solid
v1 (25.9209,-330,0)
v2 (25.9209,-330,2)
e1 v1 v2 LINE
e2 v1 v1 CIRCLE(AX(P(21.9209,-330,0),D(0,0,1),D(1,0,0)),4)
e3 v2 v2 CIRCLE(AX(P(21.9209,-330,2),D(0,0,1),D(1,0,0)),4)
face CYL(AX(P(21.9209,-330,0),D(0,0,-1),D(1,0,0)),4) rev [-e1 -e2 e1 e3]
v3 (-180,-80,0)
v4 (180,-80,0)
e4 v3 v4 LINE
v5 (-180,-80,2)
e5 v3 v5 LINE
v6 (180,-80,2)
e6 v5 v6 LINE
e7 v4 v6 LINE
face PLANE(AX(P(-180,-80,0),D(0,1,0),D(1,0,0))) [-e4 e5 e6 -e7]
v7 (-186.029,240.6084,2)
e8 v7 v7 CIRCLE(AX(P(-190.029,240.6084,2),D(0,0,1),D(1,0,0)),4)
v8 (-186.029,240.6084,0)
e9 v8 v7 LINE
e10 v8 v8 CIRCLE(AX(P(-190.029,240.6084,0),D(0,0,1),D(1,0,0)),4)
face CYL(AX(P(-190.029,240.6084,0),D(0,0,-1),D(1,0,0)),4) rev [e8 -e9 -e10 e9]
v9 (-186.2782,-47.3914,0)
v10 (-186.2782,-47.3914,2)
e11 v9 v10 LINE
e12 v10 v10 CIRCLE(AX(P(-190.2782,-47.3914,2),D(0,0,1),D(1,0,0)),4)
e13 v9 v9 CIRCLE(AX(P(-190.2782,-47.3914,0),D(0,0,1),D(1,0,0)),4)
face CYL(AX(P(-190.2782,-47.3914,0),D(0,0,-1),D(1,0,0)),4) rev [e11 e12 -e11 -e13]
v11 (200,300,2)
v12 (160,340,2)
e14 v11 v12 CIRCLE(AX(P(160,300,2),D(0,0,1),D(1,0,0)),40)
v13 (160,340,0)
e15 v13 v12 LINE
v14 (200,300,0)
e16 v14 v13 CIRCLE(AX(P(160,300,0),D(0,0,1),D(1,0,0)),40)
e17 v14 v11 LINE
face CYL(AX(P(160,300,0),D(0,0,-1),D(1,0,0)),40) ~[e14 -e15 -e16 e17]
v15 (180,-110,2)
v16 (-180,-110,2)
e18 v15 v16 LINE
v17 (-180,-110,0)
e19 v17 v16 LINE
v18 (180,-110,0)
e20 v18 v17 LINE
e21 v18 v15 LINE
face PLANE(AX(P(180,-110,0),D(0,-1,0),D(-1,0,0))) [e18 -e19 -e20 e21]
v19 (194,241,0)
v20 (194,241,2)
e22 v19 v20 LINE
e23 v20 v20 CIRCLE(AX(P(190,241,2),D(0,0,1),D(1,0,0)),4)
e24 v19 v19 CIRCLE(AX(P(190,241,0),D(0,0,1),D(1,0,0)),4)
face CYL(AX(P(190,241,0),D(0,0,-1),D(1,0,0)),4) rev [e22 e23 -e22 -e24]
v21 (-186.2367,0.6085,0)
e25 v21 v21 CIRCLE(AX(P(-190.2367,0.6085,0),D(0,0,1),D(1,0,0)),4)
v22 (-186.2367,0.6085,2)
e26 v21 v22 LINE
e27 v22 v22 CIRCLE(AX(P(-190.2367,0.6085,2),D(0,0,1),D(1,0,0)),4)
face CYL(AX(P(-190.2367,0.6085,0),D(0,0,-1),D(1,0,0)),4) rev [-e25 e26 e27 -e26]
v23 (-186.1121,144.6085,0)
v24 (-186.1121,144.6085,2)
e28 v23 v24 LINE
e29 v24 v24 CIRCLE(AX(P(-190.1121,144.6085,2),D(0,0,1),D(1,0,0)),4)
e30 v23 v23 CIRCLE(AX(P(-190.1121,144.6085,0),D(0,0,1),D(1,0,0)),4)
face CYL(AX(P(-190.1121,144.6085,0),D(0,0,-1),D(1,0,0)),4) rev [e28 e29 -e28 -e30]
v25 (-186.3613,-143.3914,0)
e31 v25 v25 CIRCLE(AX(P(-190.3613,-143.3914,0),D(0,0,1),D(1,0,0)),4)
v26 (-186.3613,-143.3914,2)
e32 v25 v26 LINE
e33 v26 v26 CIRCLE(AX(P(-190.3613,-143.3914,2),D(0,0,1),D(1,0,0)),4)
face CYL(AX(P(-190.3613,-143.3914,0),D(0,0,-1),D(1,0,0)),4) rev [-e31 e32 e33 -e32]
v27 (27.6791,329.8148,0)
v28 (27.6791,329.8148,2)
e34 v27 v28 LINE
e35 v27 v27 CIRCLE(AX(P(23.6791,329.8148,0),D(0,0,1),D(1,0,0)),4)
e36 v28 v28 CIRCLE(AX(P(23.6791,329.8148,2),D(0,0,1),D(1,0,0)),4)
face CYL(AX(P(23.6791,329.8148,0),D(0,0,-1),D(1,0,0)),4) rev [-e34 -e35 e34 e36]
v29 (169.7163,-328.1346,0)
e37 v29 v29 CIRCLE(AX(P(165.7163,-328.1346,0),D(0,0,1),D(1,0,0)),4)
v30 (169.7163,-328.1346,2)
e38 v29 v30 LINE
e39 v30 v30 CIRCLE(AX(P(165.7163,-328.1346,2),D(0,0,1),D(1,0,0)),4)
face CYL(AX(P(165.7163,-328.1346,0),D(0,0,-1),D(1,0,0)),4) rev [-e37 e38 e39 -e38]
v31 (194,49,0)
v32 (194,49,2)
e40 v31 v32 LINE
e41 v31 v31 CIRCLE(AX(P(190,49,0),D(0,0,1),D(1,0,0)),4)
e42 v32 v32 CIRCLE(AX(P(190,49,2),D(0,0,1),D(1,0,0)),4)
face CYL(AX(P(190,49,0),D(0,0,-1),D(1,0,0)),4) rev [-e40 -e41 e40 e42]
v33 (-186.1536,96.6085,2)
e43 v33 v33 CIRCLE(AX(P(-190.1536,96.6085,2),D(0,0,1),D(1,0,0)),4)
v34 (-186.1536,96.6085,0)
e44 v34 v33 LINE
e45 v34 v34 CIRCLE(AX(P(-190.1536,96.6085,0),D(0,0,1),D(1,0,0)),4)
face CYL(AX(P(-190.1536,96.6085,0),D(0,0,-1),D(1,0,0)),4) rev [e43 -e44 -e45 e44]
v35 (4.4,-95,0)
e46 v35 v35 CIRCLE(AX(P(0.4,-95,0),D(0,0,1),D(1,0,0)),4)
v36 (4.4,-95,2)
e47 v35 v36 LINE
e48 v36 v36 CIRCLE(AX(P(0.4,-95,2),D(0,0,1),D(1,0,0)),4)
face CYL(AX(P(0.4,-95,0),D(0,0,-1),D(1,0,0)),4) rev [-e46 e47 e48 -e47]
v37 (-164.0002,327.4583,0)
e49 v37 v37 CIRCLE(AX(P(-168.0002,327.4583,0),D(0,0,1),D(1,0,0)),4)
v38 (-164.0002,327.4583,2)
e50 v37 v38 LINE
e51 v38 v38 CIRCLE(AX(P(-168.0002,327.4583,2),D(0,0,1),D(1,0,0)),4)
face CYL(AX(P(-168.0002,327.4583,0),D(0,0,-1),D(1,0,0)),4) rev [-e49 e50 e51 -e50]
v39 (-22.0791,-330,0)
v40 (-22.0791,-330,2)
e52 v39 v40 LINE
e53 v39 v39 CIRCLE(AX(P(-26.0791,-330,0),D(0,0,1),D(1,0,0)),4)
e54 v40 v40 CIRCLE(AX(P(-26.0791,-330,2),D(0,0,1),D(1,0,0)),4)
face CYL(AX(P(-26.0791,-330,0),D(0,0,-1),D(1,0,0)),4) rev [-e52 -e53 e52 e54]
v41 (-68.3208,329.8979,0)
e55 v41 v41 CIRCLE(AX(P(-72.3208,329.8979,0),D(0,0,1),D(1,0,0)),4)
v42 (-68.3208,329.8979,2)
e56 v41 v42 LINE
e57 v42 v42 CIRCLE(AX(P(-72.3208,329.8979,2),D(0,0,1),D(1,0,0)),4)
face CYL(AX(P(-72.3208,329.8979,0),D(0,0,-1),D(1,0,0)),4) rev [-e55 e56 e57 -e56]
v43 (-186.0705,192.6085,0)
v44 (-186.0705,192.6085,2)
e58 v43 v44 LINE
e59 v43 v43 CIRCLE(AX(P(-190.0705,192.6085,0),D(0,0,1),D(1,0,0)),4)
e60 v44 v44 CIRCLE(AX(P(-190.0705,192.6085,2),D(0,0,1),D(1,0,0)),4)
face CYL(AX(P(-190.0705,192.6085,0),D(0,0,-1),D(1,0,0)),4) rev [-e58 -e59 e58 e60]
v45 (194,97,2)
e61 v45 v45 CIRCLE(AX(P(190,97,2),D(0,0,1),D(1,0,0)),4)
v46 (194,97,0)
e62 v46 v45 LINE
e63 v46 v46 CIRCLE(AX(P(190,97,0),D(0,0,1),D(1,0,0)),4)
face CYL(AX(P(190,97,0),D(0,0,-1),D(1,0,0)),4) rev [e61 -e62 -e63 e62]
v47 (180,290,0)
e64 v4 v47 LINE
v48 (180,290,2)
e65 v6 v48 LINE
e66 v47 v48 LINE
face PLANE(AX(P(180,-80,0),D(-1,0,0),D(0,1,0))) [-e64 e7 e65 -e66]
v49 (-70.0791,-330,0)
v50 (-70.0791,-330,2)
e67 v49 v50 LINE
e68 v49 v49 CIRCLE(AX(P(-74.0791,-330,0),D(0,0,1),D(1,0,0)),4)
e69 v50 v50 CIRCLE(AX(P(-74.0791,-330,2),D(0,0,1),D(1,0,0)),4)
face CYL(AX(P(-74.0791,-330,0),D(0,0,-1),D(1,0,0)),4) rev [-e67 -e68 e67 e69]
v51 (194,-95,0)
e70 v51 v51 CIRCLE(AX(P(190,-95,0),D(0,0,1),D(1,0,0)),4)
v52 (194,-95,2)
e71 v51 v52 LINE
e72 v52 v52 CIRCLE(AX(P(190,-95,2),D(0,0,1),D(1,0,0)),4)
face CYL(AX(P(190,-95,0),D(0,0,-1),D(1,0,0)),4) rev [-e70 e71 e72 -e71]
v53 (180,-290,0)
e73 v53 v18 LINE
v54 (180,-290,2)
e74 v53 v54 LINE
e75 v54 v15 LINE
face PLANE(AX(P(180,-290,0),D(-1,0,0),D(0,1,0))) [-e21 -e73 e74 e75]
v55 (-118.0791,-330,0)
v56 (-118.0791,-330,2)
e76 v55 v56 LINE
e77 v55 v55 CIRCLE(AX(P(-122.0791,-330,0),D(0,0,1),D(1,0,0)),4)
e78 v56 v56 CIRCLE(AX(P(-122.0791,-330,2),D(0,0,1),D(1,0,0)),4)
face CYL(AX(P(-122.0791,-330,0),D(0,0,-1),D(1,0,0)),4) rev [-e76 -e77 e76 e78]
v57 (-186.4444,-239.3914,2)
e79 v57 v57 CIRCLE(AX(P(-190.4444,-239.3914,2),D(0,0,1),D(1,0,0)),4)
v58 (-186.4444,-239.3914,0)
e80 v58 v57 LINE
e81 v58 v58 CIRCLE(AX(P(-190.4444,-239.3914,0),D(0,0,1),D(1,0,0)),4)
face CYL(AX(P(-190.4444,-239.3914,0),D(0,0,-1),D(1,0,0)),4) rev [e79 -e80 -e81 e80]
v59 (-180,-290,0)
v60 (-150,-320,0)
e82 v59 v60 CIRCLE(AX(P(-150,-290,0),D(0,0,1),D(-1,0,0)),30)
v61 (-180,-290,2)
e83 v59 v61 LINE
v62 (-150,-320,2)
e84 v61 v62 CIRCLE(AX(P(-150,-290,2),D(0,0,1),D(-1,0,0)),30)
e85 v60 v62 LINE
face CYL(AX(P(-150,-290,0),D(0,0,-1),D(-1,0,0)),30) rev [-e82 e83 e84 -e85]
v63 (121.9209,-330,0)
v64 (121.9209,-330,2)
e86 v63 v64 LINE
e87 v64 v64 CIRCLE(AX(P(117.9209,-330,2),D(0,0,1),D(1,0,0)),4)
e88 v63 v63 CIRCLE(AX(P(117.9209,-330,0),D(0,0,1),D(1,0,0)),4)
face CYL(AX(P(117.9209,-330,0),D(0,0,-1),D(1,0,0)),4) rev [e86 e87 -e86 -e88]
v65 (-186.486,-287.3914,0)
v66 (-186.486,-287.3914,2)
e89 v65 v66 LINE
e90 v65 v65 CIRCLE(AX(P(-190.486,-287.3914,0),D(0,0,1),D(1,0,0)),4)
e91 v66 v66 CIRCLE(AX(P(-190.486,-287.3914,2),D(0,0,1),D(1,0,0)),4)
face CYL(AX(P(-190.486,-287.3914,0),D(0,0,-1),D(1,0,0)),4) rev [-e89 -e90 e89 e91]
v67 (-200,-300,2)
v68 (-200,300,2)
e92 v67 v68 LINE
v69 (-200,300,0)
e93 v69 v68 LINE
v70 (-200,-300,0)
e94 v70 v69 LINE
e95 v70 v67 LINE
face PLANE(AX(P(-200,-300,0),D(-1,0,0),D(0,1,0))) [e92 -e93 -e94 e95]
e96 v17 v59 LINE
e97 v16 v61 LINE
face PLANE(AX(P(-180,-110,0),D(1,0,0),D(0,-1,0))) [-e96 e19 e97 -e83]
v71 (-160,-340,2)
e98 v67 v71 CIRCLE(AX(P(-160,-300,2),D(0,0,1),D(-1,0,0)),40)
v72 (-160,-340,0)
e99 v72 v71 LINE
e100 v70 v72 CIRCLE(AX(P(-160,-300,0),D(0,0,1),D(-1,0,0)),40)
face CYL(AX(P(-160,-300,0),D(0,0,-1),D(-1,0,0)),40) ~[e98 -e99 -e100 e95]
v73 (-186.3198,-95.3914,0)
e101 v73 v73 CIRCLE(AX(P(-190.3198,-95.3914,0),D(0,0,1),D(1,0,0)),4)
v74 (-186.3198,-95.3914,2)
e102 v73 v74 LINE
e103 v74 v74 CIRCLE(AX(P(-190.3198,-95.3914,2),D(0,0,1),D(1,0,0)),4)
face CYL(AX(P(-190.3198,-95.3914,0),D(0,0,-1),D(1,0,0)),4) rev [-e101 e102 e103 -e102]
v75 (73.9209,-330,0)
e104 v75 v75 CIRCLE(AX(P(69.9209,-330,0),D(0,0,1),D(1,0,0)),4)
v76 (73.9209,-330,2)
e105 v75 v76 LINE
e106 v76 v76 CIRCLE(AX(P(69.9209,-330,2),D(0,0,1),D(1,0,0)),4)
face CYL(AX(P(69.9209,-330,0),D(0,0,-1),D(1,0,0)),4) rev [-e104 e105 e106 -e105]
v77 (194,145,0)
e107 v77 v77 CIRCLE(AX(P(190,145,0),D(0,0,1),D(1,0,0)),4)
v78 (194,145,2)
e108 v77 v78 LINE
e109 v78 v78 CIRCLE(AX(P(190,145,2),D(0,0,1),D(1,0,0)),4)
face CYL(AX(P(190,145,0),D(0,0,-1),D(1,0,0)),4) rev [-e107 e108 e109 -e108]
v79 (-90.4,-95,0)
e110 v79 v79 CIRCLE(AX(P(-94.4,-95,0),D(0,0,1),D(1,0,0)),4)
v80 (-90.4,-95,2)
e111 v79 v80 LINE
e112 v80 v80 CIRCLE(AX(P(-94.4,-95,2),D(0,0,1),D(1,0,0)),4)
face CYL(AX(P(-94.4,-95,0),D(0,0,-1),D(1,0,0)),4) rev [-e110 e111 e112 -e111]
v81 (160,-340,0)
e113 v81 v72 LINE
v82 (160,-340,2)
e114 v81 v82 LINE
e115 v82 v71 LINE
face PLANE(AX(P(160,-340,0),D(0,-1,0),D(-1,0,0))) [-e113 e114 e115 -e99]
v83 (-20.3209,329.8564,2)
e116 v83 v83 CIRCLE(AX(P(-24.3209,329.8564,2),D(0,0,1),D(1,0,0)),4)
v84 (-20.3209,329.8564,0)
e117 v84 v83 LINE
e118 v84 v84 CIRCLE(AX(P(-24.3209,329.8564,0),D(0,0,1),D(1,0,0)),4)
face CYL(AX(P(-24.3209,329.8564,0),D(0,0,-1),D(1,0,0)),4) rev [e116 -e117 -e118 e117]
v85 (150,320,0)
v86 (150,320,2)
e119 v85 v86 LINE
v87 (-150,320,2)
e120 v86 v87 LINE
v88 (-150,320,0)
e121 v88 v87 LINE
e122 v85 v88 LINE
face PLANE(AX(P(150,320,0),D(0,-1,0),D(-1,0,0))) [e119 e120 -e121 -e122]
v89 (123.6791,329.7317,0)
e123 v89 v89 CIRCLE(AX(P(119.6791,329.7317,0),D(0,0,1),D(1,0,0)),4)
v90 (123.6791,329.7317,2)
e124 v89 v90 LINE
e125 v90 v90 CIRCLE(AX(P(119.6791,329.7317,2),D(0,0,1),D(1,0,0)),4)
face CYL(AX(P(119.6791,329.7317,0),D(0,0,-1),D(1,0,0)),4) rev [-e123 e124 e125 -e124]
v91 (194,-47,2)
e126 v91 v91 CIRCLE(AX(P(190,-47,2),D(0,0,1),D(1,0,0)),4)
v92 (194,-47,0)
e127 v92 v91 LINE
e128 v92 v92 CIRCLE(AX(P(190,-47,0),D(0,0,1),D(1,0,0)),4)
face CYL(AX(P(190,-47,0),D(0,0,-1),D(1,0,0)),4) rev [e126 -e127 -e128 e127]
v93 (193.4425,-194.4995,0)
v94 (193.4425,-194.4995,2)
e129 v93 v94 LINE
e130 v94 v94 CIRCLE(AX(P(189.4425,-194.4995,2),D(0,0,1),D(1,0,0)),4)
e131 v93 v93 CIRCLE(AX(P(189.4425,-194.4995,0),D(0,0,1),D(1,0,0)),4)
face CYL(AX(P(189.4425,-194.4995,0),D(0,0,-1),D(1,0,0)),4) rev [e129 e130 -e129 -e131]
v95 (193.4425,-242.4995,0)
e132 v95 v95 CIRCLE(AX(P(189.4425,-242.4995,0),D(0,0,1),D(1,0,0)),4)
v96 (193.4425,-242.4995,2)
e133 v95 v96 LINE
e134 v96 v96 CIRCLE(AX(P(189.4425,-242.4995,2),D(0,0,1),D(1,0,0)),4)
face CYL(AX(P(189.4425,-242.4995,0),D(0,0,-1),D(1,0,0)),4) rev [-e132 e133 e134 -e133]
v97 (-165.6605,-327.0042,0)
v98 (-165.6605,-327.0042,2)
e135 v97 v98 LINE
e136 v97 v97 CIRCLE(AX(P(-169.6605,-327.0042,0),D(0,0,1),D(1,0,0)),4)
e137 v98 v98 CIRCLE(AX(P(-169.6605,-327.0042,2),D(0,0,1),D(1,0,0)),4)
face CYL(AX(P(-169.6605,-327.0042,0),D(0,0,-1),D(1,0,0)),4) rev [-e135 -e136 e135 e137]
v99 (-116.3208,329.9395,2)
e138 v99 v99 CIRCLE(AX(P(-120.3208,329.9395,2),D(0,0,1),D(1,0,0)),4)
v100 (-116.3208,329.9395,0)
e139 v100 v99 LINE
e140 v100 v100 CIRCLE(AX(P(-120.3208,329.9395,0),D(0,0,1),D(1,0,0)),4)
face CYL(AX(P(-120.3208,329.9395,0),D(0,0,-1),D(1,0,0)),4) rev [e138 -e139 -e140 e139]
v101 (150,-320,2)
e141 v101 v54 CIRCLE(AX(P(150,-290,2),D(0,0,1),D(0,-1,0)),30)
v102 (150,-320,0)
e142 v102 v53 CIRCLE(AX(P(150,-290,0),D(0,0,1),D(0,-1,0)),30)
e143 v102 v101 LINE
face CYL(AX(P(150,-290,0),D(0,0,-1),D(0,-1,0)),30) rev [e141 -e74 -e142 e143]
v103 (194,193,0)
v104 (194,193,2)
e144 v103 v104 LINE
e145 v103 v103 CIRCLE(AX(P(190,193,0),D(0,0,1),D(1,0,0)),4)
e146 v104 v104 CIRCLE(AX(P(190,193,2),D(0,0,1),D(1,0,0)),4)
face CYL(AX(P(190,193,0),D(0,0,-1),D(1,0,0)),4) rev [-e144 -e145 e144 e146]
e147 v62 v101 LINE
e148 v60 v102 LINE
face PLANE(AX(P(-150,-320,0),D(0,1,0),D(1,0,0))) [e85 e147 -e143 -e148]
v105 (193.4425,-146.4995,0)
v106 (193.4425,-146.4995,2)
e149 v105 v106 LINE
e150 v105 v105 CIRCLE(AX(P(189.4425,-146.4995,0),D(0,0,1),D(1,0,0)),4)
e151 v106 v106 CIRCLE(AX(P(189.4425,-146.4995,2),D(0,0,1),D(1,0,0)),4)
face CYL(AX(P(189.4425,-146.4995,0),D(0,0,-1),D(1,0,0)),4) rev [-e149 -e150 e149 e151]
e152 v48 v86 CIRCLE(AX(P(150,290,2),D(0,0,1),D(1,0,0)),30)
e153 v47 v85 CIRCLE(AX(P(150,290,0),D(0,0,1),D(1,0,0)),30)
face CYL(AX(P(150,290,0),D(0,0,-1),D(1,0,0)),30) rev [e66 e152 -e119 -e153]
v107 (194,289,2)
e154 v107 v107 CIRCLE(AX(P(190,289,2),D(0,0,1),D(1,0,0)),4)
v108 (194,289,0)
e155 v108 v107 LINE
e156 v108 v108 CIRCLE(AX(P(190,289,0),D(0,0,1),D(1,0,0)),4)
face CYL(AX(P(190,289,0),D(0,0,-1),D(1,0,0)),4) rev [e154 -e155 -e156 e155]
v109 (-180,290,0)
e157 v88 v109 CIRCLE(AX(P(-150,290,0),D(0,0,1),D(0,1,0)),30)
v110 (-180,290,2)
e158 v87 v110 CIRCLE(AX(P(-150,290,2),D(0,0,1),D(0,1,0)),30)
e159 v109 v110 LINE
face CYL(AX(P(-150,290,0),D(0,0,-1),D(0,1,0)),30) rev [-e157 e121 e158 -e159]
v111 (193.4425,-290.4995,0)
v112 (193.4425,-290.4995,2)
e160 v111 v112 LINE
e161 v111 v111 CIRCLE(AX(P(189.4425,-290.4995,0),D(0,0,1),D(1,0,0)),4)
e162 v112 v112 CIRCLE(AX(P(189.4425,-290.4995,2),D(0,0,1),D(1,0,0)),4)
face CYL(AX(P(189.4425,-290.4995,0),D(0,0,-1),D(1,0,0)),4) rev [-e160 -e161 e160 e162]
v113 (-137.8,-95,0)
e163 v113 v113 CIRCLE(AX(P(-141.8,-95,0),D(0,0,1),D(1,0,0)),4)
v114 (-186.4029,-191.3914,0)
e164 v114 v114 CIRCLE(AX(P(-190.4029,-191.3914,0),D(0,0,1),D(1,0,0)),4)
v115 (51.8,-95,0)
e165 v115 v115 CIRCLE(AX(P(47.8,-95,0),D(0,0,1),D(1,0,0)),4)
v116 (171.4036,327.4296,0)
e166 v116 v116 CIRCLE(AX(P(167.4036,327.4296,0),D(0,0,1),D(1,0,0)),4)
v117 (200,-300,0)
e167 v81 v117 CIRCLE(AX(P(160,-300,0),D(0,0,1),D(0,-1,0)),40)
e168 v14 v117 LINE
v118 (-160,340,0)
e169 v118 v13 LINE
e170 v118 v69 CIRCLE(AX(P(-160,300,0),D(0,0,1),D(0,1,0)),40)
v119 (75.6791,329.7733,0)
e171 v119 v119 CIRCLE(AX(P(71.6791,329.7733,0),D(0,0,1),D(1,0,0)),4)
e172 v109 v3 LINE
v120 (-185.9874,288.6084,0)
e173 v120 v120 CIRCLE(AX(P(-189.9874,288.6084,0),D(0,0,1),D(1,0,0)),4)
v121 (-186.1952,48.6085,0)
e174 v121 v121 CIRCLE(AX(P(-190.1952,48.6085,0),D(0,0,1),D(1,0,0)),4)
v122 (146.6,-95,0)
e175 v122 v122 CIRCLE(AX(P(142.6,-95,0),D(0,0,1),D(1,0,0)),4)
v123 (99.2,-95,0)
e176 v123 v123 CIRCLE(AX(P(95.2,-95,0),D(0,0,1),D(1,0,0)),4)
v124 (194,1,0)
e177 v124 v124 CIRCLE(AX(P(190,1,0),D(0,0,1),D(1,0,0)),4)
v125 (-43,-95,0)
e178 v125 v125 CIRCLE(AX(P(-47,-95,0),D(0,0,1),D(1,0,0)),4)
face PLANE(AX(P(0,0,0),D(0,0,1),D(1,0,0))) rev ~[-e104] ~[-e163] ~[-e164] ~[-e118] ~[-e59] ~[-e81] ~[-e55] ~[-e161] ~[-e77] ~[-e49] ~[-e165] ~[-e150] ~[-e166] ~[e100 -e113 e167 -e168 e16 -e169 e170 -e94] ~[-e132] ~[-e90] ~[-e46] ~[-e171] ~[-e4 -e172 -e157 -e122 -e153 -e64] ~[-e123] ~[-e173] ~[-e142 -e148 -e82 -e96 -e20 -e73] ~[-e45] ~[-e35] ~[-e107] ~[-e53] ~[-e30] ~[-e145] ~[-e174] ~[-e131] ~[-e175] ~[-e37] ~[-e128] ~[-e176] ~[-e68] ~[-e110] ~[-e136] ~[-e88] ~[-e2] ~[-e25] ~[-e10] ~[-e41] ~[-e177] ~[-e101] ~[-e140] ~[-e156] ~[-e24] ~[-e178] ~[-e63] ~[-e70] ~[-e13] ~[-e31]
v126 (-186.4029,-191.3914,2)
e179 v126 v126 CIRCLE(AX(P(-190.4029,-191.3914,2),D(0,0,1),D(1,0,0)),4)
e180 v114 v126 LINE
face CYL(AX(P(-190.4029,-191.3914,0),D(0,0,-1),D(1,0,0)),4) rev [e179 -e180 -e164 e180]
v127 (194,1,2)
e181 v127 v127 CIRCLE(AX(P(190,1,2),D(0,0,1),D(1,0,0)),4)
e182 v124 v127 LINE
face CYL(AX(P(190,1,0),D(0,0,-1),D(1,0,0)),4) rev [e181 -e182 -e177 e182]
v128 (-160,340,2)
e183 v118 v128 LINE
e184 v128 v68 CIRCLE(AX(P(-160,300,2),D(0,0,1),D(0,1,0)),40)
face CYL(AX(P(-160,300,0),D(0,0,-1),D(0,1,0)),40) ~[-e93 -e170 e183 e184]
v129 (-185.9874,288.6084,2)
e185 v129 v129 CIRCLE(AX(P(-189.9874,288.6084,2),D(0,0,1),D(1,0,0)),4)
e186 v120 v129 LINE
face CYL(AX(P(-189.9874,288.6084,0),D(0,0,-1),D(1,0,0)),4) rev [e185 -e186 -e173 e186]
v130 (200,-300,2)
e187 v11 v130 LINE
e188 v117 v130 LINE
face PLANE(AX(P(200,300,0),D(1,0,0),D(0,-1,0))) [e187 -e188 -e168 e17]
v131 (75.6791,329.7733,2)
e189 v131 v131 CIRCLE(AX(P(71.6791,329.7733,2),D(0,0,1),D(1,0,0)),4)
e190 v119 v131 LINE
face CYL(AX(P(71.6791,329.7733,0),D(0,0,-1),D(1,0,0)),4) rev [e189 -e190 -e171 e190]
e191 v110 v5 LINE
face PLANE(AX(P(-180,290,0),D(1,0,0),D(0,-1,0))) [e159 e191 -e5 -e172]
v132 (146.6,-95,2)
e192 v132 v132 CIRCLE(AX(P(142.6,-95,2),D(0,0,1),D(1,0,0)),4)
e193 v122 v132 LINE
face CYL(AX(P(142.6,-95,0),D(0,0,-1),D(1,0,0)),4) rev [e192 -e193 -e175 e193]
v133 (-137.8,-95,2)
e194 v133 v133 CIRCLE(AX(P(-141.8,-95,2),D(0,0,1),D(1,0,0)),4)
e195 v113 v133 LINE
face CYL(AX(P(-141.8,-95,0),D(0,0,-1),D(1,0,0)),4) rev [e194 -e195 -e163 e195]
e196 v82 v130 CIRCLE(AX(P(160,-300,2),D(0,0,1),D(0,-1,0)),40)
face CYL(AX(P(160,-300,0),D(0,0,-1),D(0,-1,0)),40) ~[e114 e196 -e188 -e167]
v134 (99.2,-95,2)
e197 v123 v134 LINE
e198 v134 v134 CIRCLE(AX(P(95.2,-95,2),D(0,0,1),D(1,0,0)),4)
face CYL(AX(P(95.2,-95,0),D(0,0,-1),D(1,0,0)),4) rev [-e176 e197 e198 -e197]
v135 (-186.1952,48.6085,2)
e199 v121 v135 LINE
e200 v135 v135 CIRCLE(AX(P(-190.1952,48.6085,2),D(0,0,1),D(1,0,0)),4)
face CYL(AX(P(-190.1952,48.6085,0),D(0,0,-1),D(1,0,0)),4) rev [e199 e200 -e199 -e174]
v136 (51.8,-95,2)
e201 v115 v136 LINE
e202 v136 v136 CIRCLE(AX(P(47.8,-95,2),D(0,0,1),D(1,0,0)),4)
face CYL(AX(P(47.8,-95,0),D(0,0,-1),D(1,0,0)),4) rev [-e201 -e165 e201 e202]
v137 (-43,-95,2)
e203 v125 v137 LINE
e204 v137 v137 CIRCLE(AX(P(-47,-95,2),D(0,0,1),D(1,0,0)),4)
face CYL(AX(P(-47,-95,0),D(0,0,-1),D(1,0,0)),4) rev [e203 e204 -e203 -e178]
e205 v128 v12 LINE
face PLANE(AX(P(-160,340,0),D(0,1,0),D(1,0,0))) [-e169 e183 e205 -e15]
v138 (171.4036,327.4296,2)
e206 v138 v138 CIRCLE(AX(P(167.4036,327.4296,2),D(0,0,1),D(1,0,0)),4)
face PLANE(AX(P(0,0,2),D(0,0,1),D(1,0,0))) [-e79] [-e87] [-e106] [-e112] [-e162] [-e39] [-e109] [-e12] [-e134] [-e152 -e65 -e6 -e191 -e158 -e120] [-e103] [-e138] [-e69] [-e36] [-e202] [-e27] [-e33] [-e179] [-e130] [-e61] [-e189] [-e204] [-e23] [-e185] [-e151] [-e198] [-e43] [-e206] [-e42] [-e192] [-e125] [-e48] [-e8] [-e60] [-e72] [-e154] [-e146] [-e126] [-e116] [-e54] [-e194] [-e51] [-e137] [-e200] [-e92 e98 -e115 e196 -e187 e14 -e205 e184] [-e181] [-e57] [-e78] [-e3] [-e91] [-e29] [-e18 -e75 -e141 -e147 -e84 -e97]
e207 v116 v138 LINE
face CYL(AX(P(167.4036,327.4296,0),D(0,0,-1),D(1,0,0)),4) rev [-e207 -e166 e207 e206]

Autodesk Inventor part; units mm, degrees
ref_plane "YZ Plane" through (0, 0, 0) normal (1, 0, 0) x (0, 1, 0)
ref_plane "XZ Plane" through (0, 0, 0) normal (0, 1, 0) x (-1, 0, 0)
ref_plane "XY Plane" through (0, 0, 0) normal (0, 0, 1) x (1, 0, 0)
ref_plane "РабПлоскость1" through (0, 0, 0) normal (0, 0, 1) x (1, 0, 0)
sketch "Эскиз1" plane through (0, 0, 0) normal (0, 0, 1) x (1, 0, 0)
  circle A0 centre (-141.8, -95) radius 4 projected
  circle A1 centre (-94.4, -95) radius 4 projected
  circle A2 centre (-47, -95) radius 4 projected
  circle A3 centre (0.4, -95) radius 4 projected
  circle A4 centre (47.8, -95) radius 4 projected
  circle A5 centre (95.2, -95) radius 4 projected
  circle A6 centre (142.6, -95) radius 4 projected
  circle A7 centre (189.4425, -146.4995) radius 4 projected
  circle A8 centre (189.4425, -194.4995) radius 4 projected
  circle A9 centre (189.4425, -242.4995) radius 4 projected
  circle A10 centre (189.4425, -290.4995) radius 4 projected
  circle A11 centre (165.7163, -328.1346) radius 4 projected
  circle A12 centre (117.9209, -330) radius 4 projected
  circle A13 centre (69.9209, -330) radius 4 projected
  circle A14 centre (21.9209, -330) radius 4 projected
  circle A15 centre (-26.0791, -330) radius 4 projected
  circle A16 centre (-74.0791, -330) radius 4 projected
  circle A17 centre (-122.0791, -330) radius 4 projected
  circle A18 centre (-169.6605, -327.0042) radius 4 projected
  circle A19 centre (-190.486, -287.3914) radius 4 projected
  circle A20 centre (-190.4444, -239.3914) radius 4 projected
  circle A21 centre (-190.4029, -191.3914) radius 4 projected
  circle A22 centre (-190.3613, -143.3914) radius 4 projected
  circle A23 centre (-190.3198, -95.3914) radius 4 projected
  circle A24 centre (-190.2782, -47.3914) radius 4 projected
  circle A25 centre (-190.2367, 0.6085) radius 4 projected
  circle A26 centre (-190.1952, 48.6085) radius 4 projected
  circle A27 centre (-190.1536, 96.6085) radius 4 projected
  circle A28 centre (-190.1121, 144.6085) radius 4 projected
  circle A29 centre (-190.0705, 192.6085) radius 4 projected
  circle A30 centre (-190.029, 240.6084) radius 4 projected
  circle A31 centre (-189.9874, 288.6084) radius 4 projected
  circle A32 centre (-168.0002, 327.4583) radius 4 projected
  circle A33 centre (-120.3208, 329.9395) radius 4 projected
  circle A34 centre (-72.3208, 329.8979) radius 4 projected
  circle A35 centre (-24.3209, 329.8564) radius 4 projected
  circle A36 centre (23.6791, 329.8148) radius 4 projected
  circle A37 centre (71.6791, 329.7733) radius 4 projected
  circle A38 centre (119.6791, 329.7317) radius 4 projected
  circle A39 centre (167.4036, 327.4296) radius 4 projected
  circle A40 centre (190, 289) radius 4 projected
  circle A41 centre (190, 241) radius 4 projected
  circle A42 centre (190, 193) radius 4 projected
  circle A43 centre (190, 145) radius 4 projected
  circle A44 centre (190, 97) radius 4 projected
  circle A45 centre (190, 49) radius 4 projected
  circle A46 centre (190, 1) radius 4 projected
  circle A47 centre (190, -47) radius 4 projected
  circle A48 centre (190, -95) radius 4 projected
  line L0 (200, 300) -> (200, -300) projected
  arc A49 (200, 300) -> (160, 340) centre (160, 300) ccw projected
  line L1 (-160, 340) -> (160, 340) projected
  arc A50 (-160, 340) -> (-200, 300) centre (-160, 300) ccw projected
  line L2 (-200, -300) -> (-200, 300) projected
  arc A51 (-200, -300) -> (-160, -340) centre (-160, -300) ccw projected
  line L3 (160, -340) -> (-160, -340) projected
  arc A52 (160, -340) -> (200, -300) centre (160, -300) ccw projected
  line L4 (180, -110) -> (-180, -110) projected
  line L5 (180, -290) -> (180, -110) projected
  arc A53 (150, -320) -> (180, -290) centre (150, -290) ccw projected
  line L6 (-150, -320) -> (150, -320) projected
  arc A54 (-180, -290) -> (-150, -320) centre (-150, -290) ccw projected
  line L7 (-180, -110) -> (-180, -290) projected
  line L8 (180, -80) -> (180, 290) projected
  line L9 (-180, -80) -> (180, -80) projected
  line L10 (-180, 290) -> (-180, -80) projected
  arc A55 (-150, 320) -> (-180, 290) centre (-150, 290) ccw projected
  line L11 (150, 320) -> (-150, 320) projected
  arc A56 (180, 290) -> (150, 320) centre (150, 290) ccw projected
  point P0 (0, 0)
extrude "Выдавливание1" add sketch "Эскиз1" along normal blind 2
properties part number "Прокладка крышки фонаря 2" material "Алюминий 6061"
